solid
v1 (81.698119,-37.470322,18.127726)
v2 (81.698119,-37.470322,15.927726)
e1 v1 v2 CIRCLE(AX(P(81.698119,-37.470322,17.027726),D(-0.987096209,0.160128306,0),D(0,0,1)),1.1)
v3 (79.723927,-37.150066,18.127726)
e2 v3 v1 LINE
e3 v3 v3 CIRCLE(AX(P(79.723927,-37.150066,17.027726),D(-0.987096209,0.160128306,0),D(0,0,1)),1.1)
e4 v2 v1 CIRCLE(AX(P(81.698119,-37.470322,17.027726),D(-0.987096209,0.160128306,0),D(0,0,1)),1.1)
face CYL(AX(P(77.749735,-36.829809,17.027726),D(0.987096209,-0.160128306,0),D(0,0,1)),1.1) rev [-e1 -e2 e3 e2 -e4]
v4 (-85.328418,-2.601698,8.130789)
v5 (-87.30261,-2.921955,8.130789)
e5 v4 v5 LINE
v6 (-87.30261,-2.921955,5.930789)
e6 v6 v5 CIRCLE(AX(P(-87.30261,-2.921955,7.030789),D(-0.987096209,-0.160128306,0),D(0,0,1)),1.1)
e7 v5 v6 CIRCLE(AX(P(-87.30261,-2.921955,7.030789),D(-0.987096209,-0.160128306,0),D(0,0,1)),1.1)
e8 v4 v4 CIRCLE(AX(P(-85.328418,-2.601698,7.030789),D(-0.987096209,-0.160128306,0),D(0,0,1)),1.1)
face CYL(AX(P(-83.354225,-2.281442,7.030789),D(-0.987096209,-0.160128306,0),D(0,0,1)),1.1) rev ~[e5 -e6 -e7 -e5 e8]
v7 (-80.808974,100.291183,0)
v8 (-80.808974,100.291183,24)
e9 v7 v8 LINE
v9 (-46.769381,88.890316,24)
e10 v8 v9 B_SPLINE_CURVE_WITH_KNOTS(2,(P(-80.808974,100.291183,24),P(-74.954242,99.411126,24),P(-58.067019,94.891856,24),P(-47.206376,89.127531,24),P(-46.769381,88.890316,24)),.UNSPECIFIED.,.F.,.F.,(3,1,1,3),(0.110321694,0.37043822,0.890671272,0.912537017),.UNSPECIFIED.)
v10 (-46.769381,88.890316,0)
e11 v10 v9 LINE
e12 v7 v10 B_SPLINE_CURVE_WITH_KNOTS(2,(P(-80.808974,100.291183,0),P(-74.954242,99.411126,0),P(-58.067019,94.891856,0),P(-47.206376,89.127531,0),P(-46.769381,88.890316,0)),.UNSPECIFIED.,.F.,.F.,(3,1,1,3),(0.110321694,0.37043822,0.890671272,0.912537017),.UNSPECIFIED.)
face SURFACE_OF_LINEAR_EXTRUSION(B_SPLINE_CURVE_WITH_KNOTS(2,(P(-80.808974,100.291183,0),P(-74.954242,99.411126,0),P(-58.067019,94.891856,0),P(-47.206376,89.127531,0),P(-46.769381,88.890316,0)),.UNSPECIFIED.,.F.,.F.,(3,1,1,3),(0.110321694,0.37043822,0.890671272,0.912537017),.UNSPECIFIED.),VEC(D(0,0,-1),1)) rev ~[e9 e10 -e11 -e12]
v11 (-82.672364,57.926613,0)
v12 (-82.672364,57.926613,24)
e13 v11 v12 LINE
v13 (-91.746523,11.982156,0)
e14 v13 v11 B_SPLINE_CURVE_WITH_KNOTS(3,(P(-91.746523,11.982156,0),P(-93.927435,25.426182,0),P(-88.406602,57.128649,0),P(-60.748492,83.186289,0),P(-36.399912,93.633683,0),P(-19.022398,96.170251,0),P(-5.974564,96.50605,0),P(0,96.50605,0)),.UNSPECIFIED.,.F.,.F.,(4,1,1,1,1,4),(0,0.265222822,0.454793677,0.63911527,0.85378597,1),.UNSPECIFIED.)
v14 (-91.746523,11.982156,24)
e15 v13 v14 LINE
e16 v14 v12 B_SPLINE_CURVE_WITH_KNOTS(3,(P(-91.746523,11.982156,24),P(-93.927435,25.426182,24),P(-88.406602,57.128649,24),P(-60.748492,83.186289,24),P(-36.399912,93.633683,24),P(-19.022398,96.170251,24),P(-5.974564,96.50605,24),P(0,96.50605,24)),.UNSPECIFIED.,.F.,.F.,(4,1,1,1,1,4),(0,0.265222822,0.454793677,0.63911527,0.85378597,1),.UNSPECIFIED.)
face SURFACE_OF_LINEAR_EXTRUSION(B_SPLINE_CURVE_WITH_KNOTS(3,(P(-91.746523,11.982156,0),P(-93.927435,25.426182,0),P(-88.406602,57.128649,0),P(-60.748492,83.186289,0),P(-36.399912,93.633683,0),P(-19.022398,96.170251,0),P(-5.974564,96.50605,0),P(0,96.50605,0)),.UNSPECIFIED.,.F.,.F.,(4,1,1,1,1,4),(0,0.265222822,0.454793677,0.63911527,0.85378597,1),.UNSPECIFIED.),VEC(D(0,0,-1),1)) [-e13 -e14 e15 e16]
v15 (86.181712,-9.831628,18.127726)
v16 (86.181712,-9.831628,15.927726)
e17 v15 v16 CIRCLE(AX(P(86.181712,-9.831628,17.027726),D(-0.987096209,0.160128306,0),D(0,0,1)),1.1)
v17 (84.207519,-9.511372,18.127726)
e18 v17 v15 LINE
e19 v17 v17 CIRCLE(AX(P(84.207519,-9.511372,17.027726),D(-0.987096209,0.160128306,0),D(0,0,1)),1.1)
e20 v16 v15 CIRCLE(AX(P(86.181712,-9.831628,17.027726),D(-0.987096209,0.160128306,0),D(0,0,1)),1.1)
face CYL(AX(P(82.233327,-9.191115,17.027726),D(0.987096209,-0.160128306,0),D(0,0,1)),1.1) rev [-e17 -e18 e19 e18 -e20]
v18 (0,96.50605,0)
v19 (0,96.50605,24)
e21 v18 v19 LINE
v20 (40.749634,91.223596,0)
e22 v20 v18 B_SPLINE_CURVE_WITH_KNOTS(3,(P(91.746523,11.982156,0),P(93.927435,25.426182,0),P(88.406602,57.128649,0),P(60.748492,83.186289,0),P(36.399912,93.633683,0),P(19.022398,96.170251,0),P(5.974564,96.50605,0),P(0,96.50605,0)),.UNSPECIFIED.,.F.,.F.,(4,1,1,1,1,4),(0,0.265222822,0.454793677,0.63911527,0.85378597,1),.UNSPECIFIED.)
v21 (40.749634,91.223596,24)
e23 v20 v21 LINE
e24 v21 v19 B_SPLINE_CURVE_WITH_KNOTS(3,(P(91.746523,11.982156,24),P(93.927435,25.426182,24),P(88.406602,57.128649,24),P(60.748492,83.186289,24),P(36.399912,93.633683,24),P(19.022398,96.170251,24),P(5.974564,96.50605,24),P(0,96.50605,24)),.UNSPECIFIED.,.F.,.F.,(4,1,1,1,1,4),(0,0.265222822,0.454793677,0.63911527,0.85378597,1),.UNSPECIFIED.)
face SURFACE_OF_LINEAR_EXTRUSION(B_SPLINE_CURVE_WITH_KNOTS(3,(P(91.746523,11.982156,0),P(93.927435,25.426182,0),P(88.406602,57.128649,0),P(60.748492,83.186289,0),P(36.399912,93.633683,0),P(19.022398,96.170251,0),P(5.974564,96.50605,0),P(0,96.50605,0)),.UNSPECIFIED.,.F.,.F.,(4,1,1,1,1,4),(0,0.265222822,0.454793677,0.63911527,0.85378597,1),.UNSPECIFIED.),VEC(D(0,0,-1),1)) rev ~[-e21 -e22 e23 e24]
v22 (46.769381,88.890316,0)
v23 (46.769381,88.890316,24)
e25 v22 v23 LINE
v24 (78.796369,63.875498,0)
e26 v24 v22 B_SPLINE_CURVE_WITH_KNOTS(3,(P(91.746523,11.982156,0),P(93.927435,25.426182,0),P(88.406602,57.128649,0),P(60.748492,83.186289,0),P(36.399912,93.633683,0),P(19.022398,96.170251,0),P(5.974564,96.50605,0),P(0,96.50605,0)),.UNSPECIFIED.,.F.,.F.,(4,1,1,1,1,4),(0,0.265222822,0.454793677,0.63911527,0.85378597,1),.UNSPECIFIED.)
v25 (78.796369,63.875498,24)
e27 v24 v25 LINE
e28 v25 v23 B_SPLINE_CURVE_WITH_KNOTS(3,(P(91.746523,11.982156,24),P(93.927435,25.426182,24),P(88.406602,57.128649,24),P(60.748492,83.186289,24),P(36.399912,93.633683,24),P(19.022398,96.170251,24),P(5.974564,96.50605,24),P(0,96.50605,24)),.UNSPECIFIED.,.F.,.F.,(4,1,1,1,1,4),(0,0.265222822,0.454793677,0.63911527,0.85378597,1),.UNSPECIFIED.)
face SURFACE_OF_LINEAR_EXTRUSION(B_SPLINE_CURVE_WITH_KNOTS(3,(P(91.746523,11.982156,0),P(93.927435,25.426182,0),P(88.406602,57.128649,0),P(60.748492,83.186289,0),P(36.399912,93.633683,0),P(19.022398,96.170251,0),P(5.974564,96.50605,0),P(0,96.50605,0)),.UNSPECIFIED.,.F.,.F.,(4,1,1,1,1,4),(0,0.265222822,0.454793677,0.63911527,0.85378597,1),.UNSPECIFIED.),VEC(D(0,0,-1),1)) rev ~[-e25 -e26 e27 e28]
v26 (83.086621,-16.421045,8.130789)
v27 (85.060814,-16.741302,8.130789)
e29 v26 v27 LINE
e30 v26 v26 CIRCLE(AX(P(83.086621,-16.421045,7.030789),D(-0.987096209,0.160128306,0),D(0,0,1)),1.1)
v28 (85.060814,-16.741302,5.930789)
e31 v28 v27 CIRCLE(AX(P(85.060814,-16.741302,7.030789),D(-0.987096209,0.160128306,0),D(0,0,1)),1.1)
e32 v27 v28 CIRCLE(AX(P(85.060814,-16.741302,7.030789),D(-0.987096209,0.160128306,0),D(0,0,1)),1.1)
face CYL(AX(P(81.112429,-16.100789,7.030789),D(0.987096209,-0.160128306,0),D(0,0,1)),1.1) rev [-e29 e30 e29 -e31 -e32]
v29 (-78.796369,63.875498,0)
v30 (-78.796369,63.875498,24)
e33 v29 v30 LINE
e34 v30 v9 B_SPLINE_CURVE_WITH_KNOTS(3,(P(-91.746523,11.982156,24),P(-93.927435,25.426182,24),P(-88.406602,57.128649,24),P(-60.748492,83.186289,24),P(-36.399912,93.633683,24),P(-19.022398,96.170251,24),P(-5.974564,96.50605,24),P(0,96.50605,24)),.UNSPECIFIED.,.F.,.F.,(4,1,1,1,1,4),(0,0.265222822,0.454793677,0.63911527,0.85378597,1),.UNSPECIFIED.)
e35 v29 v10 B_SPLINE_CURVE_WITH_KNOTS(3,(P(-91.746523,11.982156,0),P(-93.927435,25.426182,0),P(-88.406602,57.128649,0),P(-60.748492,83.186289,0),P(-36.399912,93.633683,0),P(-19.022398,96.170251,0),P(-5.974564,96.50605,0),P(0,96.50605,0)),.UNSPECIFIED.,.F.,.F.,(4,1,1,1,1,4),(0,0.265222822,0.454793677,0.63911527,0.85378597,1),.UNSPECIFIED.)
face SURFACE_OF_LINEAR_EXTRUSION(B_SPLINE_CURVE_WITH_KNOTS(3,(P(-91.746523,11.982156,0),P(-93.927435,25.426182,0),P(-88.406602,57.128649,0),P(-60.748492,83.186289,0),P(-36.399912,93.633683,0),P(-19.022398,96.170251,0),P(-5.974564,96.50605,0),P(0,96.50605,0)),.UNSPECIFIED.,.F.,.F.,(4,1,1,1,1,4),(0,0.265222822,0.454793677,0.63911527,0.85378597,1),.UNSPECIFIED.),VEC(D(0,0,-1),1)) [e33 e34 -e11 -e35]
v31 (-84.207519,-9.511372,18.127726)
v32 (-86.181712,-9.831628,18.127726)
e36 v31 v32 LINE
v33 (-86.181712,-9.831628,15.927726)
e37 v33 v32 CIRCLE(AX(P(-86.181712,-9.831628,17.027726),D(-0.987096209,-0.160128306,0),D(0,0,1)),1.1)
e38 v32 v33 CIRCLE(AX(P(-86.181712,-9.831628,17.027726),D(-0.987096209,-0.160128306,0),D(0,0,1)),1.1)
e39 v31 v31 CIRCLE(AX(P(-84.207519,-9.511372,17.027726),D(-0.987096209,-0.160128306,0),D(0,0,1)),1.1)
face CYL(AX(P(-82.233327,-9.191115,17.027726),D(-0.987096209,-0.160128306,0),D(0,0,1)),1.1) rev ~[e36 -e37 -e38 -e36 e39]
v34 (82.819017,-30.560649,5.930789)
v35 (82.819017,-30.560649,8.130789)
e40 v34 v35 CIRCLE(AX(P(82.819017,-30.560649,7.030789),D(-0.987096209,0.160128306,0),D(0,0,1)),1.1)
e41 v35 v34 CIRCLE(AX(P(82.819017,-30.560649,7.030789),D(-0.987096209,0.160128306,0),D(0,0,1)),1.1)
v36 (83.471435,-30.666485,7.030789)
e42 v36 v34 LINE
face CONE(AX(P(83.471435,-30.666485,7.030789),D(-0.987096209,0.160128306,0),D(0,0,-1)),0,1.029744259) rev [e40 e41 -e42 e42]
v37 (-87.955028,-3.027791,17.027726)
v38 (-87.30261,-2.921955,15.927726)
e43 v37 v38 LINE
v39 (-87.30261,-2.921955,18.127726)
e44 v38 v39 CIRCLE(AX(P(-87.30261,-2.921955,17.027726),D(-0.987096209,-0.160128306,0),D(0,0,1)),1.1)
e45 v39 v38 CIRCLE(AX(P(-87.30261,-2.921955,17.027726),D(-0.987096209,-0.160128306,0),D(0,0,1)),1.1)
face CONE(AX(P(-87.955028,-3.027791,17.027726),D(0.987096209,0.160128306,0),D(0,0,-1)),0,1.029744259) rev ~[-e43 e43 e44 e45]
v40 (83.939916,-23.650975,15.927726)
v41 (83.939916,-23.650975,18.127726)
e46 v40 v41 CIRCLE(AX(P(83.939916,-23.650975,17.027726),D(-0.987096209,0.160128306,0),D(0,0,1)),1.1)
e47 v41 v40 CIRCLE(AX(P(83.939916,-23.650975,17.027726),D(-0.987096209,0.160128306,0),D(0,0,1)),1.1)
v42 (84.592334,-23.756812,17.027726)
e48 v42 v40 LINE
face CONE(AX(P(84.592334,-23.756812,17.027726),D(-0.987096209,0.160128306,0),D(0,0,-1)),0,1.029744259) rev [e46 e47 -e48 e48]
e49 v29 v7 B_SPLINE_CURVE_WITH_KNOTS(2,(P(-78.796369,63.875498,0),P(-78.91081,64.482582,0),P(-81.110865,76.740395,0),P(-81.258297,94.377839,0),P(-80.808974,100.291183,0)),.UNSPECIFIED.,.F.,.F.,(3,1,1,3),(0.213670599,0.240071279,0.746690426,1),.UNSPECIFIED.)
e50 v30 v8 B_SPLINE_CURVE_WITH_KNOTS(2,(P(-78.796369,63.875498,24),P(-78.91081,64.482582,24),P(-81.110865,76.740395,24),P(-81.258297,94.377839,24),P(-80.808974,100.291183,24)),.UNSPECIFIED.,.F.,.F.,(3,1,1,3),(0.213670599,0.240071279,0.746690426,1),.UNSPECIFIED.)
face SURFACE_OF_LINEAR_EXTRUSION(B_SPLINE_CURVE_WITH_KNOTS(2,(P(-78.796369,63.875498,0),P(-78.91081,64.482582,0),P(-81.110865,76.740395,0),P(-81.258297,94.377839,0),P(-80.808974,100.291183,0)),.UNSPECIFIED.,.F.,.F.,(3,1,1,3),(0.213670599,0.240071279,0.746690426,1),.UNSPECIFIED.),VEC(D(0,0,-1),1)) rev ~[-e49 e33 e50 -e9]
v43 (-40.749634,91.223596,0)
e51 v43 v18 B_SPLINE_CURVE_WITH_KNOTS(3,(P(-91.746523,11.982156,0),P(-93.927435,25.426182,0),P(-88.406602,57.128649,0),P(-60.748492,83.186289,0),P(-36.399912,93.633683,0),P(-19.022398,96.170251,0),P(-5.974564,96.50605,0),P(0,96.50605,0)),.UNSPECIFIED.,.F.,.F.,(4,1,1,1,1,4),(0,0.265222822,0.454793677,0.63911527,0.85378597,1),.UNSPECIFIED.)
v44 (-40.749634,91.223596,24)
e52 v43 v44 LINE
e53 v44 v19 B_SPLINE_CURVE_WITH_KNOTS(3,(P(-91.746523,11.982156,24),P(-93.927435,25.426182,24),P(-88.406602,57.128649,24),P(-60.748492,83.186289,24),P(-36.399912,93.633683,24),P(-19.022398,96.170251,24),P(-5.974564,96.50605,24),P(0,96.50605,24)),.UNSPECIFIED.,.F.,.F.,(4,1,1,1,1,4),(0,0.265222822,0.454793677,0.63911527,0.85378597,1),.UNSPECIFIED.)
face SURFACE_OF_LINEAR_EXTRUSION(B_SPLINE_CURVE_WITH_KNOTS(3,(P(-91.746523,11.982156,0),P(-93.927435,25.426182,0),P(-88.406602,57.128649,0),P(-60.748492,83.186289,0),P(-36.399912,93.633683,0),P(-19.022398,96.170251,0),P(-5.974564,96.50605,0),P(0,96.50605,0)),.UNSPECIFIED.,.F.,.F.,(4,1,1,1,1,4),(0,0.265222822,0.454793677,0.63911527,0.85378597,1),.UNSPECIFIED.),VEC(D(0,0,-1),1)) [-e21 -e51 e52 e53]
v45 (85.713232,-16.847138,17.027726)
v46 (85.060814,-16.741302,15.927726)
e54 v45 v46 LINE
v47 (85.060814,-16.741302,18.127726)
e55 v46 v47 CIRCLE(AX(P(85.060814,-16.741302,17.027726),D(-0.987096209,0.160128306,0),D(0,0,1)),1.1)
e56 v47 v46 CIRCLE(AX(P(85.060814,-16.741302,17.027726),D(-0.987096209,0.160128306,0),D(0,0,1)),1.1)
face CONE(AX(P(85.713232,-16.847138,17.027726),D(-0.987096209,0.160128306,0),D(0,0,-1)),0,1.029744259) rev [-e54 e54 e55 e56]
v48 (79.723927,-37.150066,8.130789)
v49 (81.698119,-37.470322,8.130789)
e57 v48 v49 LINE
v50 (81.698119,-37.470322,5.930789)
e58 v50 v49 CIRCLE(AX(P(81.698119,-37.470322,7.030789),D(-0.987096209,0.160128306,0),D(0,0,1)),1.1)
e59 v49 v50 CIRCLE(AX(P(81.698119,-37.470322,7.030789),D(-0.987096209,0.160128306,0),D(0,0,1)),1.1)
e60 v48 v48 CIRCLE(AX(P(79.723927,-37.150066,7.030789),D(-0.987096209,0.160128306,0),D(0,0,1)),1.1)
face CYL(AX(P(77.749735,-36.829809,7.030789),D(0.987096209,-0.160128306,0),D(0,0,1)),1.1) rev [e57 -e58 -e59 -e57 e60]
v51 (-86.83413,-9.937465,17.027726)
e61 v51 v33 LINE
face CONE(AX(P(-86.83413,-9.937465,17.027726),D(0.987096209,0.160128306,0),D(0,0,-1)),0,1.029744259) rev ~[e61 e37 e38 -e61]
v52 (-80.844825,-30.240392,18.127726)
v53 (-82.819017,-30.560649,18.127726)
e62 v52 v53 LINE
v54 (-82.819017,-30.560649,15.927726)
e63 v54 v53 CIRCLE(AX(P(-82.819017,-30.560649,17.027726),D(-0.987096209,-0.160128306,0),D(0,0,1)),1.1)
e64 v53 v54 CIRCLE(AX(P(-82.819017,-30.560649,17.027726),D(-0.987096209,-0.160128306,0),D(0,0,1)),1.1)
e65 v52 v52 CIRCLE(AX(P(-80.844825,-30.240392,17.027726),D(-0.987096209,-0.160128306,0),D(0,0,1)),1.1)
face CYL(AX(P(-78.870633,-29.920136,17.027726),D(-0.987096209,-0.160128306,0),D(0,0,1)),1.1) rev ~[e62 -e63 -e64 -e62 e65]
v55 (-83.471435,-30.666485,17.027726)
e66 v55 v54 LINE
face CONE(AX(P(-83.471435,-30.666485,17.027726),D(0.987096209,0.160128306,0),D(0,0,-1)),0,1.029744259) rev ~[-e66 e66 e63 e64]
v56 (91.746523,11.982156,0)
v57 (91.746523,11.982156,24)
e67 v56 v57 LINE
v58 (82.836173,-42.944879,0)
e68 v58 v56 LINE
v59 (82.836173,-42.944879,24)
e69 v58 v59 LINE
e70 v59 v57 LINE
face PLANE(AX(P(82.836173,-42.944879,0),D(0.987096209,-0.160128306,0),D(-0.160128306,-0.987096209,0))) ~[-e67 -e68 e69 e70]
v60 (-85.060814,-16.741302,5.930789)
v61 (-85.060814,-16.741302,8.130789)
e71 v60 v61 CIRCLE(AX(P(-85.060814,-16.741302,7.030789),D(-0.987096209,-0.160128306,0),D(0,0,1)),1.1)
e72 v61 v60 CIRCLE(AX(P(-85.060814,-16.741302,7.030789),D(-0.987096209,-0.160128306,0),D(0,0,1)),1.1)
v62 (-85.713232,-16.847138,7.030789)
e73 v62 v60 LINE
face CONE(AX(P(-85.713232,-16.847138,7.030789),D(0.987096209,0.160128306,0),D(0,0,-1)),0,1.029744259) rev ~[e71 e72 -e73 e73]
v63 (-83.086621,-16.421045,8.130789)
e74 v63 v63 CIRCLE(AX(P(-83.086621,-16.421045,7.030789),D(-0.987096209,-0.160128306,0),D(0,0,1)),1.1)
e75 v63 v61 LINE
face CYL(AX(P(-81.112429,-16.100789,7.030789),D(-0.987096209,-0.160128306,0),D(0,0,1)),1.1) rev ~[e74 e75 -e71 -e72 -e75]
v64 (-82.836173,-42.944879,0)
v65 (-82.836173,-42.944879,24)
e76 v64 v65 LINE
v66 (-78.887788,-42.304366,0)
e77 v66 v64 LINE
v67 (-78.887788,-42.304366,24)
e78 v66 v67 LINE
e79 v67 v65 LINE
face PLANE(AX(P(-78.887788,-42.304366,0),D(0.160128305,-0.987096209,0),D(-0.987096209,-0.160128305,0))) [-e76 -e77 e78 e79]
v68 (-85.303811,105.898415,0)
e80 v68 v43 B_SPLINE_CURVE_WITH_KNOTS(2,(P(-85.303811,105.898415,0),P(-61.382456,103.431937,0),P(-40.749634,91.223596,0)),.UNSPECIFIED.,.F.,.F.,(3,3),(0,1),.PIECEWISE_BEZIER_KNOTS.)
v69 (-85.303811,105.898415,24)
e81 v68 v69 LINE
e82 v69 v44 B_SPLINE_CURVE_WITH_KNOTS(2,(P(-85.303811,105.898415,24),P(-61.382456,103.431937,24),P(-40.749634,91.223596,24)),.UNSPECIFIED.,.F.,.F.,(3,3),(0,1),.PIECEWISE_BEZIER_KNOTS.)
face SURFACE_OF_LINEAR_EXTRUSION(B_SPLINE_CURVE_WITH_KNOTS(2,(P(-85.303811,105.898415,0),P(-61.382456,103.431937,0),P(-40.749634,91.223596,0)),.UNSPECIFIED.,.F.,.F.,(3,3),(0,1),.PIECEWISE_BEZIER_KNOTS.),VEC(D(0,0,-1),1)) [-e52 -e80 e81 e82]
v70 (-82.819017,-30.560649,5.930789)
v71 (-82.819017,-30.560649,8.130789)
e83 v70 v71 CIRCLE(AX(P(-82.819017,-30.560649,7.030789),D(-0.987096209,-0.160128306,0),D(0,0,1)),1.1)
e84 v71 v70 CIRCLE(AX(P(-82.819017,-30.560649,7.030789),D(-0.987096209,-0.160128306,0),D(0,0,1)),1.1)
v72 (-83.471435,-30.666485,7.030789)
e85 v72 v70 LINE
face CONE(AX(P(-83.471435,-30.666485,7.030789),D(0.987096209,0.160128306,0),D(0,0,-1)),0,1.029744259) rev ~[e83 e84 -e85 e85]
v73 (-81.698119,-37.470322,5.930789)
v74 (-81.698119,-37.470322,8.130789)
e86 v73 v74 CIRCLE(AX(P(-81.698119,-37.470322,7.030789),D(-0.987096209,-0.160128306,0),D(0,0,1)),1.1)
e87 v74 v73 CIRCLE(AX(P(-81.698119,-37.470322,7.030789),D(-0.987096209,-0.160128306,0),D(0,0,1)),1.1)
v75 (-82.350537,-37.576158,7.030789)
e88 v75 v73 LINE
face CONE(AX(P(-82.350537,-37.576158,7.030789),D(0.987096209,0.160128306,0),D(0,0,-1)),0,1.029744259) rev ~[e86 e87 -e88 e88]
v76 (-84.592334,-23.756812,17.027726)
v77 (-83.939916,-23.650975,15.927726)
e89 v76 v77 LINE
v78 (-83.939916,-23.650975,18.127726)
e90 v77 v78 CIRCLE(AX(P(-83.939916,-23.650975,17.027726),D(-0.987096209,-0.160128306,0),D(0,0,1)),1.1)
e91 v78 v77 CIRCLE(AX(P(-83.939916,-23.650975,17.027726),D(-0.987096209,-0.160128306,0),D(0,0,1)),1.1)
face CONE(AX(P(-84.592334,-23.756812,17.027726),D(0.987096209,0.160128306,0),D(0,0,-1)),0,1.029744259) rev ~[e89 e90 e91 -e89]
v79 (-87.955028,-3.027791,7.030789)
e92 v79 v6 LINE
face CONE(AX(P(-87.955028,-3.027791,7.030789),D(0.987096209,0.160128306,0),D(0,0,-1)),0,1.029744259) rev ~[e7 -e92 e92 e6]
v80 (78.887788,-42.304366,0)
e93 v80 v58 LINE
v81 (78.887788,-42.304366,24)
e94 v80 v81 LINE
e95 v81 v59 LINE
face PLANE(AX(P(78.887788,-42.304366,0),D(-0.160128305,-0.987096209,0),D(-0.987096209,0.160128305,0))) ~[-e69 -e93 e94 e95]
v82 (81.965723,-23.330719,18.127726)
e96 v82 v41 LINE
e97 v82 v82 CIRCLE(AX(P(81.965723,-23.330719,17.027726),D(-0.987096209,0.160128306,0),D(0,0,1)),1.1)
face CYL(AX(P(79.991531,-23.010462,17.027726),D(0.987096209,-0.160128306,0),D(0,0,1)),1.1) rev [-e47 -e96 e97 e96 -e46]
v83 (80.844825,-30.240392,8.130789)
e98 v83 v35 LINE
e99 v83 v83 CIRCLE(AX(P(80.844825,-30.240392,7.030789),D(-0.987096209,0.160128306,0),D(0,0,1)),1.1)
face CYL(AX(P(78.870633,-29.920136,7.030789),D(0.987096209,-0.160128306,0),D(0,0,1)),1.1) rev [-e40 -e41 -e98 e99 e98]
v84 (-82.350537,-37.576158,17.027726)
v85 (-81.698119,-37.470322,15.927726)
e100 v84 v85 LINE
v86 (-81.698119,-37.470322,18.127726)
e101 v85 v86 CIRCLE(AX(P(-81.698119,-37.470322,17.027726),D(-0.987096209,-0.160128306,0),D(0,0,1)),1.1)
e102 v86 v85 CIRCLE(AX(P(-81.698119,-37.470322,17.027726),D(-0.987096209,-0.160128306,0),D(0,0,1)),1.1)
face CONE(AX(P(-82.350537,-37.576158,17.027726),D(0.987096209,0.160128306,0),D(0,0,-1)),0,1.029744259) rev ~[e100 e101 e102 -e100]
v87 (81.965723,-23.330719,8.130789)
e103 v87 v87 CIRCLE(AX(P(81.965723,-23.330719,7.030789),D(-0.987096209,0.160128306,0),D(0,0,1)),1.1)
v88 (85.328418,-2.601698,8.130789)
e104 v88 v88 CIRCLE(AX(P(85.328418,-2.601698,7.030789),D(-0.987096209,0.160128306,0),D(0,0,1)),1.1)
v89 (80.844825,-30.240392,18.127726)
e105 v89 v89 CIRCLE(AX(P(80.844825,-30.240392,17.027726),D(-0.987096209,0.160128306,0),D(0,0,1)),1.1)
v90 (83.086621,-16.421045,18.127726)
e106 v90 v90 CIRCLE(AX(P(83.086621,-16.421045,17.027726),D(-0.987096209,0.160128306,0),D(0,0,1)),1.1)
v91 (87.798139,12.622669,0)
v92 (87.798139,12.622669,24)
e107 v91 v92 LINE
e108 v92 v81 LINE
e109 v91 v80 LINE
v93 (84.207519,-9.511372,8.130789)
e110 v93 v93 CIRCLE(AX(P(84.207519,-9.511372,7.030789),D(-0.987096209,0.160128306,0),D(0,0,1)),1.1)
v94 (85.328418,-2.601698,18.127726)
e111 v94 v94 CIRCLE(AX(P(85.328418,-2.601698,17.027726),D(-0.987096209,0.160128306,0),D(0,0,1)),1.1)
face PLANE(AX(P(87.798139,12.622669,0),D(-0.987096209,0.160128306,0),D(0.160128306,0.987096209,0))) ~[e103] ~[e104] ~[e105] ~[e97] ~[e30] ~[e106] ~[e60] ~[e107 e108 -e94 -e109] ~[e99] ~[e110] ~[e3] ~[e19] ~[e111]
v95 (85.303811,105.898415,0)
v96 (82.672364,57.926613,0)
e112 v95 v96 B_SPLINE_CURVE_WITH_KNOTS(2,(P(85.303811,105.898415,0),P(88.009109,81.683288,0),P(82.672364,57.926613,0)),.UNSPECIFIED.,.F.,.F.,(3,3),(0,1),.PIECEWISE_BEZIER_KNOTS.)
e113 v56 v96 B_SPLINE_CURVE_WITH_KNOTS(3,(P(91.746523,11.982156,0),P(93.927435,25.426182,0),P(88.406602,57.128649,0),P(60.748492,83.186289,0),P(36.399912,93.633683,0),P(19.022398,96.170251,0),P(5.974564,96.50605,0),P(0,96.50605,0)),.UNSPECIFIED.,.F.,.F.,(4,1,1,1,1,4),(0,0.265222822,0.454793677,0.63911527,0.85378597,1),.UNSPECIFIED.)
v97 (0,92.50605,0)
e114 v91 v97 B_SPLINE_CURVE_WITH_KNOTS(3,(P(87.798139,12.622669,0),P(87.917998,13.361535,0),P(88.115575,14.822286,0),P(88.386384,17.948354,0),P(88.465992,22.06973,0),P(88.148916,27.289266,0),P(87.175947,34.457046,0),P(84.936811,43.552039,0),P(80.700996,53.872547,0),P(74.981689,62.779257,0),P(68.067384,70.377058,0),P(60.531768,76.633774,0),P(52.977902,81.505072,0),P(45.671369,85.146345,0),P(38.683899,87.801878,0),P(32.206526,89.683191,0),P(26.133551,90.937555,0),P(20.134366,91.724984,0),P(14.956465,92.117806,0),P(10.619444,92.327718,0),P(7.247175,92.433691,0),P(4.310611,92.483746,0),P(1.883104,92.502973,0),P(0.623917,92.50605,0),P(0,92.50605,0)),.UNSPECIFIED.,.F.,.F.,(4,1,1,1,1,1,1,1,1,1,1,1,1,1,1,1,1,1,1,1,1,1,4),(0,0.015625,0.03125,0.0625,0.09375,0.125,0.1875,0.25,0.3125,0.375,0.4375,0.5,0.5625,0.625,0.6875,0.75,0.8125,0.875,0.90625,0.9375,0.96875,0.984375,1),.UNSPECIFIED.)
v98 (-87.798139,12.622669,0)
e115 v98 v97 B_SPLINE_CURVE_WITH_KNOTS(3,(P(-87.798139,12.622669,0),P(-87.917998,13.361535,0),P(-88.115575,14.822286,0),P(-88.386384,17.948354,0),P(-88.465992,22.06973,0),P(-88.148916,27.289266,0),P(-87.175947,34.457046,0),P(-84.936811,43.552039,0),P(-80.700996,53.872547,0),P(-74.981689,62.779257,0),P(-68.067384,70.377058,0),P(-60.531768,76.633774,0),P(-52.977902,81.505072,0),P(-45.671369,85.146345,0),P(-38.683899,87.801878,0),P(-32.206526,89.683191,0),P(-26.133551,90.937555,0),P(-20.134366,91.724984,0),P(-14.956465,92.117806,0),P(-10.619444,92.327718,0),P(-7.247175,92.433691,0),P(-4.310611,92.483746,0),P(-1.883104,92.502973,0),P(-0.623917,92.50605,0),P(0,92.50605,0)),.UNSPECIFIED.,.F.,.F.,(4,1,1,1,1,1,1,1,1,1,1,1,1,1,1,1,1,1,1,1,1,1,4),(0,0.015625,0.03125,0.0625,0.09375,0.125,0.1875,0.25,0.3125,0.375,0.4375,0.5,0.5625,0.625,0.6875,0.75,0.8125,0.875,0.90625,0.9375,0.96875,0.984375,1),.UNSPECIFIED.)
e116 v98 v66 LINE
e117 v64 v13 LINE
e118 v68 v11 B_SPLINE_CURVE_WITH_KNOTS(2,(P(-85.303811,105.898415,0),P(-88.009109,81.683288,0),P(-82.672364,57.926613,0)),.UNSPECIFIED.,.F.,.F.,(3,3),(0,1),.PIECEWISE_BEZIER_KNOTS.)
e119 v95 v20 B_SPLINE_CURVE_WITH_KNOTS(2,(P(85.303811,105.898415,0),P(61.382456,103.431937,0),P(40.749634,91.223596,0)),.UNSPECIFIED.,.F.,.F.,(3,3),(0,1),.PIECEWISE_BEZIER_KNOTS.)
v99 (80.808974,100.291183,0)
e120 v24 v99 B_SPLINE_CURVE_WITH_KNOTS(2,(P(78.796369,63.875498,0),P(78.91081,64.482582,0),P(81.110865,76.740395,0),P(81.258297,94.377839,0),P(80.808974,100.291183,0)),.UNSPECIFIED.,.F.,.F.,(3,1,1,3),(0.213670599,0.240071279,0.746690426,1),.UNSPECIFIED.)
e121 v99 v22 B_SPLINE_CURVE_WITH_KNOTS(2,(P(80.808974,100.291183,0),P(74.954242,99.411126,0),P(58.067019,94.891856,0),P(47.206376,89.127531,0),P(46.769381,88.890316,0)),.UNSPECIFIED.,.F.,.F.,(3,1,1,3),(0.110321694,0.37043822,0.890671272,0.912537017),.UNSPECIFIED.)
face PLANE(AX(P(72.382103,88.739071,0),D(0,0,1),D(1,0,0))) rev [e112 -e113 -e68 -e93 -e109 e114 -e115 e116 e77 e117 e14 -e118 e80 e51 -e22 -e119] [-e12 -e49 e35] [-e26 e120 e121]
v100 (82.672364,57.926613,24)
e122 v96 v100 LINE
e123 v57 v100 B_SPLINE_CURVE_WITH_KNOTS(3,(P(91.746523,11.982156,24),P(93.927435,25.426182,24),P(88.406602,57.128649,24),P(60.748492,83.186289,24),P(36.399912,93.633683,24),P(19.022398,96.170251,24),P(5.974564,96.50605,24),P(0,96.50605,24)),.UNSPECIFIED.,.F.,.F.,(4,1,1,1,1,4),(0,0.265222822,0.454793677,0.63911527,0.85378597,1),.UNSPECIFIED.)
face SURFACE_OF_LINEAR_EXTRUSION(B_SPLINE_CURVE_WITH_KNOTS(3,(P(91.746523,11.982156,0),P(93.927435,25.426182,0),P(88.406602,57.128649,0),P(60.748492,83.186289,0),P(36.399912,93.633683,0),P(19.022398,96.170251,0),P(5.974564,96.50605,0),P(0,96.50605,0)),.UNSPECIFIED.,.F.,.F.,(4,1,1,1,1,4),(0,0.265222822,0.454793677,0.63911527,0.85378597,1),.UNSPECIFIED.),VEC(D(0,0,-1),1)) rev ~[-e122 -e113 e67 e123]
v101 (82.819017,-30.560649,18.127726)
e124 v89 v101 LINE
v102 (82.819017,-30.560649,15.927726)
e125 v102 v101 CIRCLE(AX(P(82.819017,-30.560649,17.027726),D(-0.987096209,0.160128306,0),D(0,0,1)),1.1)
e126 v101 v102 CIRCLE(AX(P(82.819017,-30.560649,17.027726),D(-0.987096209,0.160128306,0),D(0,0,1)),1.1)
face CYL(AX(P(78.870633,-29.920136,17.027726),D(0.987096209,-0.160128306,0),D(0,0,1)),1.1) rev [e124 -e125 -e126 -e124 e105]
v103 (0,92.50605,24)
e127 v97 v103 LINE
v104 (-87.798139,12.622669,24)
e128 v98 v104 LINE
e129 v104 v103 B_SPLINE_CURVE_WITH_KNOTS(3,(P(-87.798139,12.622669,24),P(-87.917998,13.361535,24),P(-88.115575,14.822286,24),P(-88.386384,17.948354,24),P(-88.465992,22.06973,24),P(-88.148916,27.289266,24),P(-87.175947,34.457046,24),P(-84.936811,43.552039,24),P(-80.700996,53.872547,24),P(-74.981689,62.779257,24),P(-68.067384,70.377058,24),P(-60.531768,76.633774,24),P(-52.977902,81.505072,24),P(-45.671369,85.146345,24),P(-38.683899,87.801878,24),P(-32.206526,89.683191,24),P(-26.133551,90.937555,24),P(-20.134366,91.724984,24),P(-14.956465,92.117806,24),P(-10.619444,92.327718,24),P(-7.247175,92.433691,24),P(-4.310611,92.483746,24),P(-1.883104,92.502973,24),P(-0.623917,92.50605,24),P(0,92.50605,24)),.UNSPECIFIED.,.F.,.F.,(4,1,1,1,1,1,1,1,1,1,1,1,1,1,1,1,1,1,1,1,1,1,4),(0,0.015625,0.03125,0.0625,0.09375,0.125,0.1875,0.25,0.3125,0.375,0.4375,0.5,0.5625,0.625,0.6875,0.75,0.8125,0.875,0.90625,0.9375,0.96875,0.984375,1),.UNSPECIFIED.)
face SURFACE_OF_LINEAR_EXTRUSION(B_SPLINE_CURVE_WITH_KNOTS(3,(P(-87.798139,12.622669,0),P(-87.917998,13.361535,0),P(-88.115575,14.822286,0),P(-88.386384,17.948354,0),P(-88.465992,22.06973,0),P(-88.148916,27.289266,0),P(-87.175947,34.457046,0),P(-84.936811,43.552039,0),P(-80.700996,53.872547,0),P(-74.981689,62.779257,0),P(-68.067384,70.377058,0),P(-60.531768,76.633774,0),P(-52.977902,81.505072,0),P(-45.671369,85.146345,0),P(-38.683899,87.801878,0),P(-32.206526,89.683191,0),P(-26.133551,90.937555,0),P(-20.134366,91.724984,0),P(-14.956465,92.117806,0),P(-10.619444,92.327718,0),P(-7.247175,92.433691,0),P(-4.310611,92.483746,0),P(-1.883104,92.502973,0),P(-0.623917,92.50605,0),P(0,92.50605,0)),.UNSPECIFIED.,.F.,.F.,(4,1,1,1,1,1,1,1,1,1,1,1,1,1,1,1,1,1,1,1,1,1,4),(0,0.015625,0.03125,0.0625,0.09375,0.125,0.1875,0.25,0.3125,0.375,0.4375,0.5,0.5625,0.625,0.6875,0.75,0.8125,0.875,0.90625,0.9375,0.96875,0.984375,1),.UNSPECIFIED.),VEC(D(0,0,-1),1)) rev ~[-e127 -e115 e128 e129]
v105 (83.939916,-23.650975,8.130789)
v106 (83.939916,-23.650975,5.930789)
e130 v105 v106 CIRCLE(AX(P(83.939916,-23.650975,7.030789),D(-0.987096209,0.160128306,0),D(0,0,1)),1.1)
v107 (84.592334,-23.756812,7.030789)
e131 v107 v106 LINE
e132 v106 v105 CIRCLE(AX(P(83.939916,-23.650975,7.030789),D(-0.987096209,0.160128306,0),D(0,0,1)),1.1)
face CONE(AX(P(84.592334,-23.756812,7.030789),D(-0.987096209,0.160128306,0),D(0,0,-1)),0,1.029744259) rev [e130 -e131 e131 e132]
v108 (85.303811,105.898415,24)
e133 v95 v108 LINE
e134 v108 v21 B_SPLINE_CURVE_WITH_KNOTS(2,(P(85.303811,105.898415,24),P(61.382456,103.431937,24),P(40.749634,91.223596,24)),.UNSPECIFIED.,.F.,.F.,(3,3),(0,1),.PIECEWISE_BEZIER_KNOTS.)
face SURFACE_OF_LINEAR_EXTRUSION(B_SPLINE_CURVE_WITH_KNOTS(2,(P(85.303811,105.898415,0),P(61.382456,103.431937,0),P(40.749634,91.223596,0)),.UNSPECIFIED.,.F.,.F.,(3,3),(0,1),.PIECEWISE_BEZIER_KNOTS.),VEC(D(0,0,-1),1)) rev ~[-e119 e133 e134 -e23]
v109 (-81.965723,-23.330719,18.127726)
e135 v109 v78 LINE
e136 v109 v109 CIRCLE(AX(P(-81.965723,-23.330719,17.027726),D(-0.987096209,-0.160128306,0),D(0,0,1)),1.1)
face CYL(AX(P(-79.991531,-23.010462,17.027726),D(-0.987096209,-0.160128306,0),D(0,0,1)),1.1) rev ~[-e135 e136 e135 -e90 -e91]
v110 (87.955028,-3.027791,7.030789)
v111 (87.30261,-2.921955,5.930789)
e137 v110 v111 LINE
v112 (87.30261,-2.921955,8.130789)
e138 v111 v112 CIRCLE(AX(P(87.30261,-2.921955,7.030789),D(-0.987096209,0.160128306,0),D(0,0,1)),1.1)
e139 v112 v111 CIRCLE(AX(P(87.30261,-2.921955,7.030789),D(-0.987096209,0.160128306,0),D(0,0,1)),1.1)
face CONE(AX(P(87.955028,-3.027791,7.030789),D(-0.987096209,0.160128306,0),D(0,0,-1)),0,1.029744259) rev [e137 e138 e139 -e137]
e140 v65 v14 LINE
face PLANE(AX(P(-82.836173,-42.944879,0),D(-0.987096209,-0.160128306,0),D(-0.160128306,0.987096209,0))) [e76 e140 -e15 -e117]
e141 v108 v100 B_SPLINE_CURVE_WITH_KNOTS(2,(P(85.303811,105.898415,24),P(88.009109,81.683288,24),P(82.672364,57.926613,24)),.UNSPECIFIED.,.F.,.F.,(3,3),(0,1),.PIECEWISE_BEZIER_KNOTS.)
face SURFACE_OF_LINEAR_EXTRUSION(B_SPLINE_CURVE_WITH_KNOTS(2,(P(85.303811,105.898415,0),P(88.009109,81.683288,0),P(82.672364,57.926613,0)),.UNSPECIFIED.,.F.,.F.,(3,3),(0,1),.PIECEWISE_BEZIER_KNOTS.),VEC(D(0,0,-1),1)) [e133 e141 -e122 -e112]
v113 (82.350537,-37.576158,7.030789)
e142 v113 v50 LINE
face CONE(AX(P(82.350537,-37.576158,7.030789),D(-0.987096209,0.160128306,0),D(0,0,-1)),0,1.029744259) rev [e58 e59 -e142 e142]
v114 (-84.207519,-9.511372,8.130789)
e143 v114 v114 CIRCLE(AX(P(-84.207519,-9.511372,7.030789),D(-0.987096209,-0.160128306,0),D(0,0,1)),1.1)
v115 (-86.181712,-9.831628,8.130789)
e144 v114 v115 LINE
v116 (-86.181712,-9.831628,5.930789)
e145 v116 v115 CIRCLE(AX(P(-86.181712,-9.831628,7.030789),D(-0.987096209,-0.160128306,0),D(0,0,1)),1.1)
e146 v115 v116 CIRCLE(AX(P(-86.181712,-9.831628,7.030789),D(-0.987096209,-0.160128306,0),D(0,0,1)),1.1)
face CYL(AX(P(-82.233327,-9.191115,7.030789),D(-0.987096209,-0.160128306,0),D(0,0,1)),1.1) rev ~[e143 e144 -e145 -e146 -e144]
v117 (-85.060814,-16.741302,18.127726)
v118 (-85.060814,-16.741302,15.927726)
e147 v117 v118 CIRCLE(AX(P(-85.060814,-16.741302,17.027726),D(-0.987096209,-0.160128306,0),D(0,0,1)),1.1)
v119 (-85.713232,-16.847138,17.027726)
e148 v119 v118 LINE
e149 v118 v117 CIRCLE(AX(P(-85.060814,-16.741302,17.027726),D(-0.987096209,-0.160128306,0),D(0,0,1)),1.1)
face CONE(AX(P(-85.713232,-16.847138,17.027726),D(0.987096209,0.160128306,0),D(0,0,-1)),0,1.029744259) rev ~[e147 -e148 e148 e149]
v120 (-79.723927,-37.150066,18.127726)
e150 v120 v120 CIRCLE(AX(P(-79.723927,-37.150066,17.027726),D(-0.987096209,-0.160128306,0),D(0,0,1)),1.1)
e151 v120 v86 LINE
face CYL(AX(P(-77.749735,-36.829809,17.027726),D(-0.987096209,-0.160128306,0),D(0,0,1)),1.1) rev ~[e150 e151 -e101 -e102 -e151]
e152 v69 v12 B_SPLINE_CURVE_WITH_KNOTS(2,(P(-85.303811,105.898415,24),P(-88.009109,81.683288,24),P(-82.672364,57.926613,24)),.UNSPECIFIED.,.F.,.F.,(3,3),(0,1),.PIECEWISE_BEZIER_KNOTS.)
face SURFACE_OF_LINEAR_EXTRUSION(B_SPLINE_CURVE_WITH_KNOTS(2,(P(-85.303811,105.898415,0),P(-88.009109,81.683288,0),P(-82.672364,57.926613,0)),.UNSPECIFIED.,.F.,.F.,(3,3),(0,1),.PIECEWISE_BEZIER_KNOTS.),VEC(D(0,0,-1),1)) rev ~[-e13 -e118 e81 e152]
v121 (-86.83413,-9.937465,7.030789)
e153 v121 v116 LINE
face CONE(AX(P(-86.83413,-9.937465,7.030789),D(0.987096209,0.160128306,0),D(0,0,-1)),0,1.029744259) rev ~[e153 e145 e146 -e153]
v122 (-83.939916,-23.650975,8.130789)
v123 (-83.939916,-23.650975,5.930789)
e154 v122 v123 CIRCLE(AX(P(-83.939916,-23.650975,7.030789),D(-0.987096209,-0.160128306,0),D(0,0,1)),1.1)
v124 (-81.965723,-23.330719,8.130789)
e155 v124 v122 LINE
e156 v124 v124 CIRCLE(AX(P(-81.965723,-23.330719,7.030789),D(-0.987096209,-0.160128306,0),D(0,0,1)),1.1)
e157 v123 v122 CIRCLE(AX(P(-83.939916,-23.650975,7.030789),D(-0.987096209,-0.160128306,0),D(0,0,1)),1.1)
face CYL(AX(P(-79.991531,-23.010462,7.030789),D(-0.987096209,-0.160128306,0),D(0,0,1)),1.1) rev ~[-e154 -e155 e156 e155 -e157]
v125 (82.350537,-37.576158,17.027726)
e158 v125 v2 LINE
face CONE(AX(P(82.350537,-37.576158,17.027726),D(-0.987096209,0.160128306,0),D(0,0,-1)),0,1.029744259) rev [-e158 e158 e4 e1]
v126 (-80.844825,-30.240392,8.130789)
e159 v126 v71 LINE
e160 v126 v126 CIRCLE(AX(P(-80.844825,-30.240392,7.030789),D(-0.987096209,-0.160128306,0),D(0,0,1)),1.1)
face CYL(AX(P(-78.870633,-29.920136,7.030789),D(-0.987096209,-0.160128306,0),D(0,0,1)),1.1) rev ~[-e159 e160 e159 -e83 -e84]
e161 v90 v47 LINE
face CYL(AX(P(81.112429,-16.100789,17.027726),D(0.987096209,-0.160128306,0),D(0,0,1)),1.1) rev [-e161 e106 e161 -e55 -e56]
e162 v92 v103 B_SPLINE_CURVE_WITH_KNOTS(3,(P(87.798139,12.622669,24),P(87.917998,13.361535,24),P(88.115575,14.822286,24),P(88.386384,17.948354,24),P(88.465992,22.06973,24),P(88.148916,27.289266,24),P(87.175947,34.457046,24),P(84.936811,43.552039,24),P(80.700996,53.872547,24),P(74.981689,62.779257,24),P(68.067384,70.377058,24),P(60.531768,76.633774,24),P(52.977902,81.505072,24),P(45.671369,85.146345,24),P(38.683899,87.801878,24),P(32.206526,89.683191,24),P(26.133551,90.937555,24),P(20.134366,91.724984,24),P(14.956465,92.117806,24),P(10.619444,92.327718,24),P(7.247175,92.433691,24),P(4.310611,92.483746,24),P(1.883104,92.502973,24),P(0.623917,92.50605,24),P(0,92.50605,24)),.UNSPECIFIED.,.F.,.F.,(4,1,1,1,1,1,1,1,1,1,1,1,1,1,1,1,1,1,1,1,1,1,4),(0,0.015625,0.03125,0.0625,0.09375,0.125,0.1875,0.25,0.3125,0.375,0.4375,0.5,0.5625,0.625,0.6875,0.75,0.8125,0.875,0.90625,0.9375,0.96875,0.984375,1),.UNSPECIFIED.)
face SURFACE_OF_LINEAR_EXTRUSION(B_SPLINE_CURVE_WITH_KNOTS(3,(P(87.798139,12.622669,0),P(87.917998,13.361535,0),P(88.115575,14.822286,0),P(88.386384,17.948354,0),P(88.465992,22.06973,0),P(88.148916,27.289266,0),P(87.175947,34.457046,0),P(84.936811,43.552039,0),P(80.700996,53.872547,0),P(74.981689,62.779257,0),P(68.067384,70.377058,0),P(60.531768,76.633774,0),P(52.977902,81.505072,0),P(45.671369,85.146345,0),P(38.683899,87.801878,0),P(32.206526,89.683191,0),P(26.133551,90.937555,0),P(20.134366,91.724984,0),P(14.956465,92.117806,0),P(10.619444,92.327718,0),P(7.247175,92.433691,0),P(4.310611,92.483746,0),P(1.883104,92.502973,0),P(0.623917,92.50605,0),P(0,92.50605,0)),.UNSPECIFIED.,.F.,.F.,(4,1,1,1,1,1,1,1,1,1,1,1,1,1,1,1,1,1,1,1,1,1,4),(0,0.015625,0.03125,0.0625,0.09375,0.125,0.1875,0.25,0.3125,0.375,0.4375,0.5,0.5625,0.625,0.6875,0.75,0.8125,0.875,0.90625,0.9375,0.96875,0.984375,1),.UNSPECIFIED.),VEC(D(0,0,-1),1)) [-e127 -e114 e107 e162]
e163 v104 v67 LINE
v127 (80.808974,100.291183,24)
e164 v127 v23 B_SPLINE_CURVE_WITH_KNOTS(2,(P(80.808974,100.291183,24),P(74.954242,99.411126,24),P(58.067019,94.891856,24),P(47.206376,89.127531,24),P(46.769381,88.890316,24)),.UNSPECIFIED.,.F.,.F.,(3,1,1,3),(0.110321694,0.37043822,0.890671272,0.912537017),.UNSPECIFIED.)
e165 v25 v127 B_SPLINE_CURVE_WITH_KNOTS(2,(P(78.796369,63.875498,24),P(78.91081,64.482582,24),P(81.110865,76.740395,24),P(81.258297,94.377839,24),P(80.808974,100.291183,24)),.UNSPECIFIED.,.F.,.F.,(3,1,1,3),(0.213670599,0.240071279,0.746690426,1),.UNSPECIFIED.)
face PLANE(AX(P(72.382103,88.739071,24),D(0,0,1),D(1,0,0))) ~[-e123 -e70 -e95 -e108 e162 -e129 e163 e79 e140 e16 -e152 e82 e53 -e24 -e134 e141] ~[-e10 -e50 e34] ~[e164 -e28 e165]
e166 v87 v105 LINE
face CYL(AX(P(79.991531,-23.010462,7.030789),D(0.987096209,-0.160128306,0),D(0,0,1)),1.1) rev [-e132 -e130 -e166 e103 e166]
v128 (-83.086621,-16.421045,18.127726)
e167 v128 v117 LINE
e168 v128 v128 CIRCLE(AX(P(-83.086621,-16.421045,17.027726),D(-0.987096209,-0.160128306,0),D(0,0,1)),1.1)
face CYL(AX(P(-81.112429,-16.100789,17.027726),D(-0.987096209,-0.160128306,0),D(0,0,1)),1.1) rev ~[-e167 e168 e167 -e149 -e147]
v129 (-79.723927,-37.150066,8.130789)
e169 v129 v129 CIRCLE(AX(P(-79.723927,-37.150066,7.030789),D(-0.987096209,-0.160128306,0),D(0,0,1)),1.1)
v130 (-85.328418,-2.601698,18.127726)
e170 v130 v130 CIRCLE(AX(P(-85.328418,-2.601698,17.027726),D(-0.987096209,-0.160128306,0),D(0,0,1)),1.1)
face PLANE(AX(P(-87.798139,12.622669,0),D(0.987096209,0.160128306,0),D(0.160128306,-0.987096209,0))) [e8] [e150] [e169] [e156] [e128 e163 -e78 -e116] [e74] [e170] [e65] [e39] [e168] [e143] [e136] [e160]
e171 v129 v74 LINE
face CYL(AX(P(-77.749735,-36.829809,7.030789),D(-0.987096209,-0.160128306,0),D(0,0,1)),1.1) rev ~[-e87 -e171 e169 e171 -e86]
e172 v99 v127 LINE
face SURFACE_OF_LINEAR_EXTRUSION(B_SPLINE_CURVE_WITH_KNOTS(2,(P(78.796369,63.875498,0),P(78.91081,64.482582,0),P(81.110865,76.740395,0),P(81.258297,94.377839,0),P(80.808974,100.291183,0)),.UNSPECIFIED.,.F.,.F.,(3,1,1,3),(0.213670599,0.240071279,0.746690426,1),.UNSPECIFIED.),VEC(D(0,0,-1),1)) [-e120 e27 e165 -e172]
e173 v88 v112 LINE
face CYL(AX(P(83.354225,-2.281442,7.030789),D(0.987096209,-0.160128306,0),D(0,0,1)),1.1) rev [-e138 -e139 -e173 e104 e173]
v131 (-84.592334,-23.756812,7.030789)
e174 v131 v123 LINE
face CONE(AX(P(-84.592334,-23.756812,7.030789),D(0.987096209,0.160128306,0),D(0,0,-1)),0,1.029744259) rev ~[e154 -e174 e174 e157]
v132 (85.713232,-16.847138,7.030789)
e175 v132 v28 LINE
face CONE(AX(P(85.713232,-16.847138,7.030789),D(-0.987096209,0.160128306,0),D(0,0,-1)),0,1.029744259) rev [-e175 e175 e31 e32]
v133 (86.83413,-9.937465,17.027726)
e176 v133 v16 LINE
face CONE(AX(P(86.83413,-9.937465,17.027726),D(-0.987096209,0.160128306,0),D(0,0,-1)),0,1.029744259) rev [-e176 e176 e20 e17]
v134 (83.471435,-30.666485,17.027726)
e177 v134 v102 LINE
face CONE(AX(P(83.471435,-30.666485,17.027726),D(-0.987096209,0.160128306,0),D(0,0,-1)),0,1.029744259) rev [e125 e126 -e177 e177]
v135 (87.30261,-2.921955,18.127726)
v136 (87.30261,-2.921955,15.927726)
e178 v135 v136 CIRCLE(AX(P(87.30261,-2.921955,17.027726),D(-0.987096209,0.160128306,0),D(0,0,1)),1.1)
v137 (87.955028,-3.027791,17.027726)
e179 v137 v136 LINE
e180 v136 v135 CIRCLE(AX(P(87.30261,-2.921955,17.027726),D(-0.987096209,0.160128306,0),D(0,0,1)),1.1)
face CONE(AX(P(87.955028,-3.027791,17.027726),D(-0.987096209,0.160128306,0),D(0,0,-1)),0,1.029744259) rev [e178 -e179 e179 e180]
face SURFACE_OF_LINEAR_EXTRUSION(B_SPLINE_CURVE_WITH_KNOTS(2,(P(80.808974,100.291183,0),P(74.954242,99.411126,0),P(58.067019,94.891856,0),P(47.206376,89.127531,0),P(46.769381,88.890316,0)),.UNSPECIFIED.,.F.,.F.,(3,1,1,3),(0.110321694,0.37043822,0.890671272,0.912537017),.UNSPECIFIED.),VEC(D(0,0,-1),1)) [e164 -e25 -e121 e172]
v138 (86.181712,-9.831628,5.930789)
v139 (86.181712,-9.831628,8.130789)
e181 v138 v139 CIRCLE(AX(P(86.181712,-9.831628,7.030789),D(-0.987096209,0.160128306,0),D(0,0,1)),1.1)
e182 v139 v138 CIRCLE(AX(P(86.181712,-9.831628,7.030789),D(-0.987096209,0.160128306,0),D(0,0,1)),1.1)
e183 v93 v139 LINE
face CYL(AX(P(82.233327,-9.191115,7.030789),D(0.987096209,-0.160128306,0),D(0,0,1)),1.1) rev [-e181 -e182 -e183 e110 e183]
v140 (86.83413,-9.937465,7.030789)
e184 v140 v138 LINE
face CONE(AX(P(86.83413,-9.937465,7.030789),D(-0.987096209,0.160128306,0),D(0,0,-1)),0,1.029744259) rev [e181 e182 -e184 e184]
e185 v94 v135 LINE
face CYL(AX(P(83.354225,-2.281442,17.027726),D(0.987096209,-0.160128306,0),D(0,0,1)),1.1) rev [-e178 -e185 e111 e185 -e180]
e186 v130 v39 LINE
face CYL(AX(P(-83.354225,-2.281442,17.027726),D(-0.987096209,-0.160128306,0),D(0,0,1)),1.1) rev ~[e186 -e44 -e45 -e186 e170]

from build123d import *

# Parameters (mm, degrees)
EXTRUDE_1_DEPTH = 24
F_2_0MM_1_D     = 2.2
F_2_0MM_1_DEPTH = 2
F_2_0MM_1_TIP   = 0.660946681


with BuildPart() as part:
    # 草图1 → 凸台-拉伸1 (new body)
    with BuildSketch(Plane.XY):
        with BuildLine():
            add(Edge.make_bspline(
                [(-85.303811148, 105.898414939), (-88.009109302, 81.683287632), (-82.672363695, 57.926613297)],
                knots=[0, 0, 0, 1, 1, 1], degree=2))
            add(Edge.make_bspline(
                [(-82.672363695, 57.926613297), (-81.478722874, 60.008111355), (-80.178814673, 61.9908522), (-78.796368827, 63.875498361)],
                knots=[0.265222822, 0.265222822, 0.265222822, 0.265222822, 0.304620703, 0.304620703, 0.304620703, 0.304620703], degree=3))
            add(Edge.make_bspline(
                [(-78.796368831, 63.875498364), (-78.910809837, 64.482582045), (-81.110864738, 76.740394775), (-81.25829733, 94.377839227), (-80.80897441, 100.291183249)],
                knots=[0.213670599, 0.213670599, 0.213670599, 0.240071279, 0.746690426, 1, 1, 1], degree=2))
            add(Edge.make_bspline(
                [(-80.80897441, 100.291183249), (-74.954242367, 99.411126281), (-58.067018564, 94.891856442), (-47.206375635, 89.127530631), (-46.769380644, 88.890315757)],
                knots=[0.110321694, 0.110321694, 0.110321694, 0.37043822, 0.890671272, 0.912537017, 0.912537017, 0.912537017], degree=2))
            add(Edge.make_bspline(
                [(-46.769380641, 88.890315749), (-44.71433423, 89.777898648), (-42.703123712, 90.548546165), (-40.749633794, 91.223596451)],
                knots=[0.567242148, 0.567242148, 0.567242148, 0.567242148, 0.618773343, 0.618773343, 0.618773343, 0.618773343], degree=3))
            add(Edge.make_bspline(
                [(-85.303811148, 105.898414939), (-61.38245558, 103.431937236), (-40.749633794, 91.223596451)],
                knots=[0, 0, 0, 1, 1, 1], degree=2))
        make_face()
        with BuildLine():
            Line((-87.798138535, 12.622668998), (-78.887788168, -42.304366094))
            Line((-78.887788168, -42.304366094), (-82.836173004, -42.944879316))
            Line((-82.836173004, -42.944879316), (-91.746523371, 11.982155776))
            add(Edge.make_bspline(
                [(-91.746523371, 11.982155776), (-93.927434534, 25.426181997), (-88.406602225, 57.128648527), (-60.748492356, 83.186289469), (-36.399912338, 93.633682679), (-19.022398101, 96.170250702), (-5.974564228, 96.506050334), (0, 96.506050334)],
                knots=[0, 0, 0, 0, 0.265222822, 0.454793677, 0.63911527, 0.85378597, 1, 1, 1, 1], degree=3))
            Line((0, 96.506050334), (0, 92.506050334))
            add(Edge.make_bspline(
                [(-87.798138535, 12.622668998), (-87.917998492, 13.361534674), (-88.115574705, 14.82228619), (-88.386383604, 17.948353716), (-88.465992349, 22.069730122), (-88.148916082, 27.289265538), (-87.175946563, 34.457045729), (-84.936811189, 43.552038848), (-80.70099625, 53.872547274), (-74.981688561, 62.779256808), (-68.067383531, 70.377057927), (-60.531768082, 76.633774135), (-52.977902003, 81.505072411), (-45.671368613, 85.146344571), (-38.683899128, 87.801878194), (-32.206525702, 89.683190694), (-26.133550852, 90.937554568), (-20.134365858, 91.724983846), (-14.956465354, 92.117805958), (-10.619444347, 92.327717748), (-7.247175397, 92.433691174), (-4.31061117, 92.483746465), (-1.883104331, 92.50297345), (-0.623917284, 92.506050334), (0, 92.506050334)],
                knots=[0, 0, 0, 0, 0.015625, 0.03125, 0.0625, 0.09375, 0.125, 0.1875, 0.25, 0.3125, 0.375, 0.4375, 0.5, 0.5625, 0.625, 0.6875, 0.75, 0.8125, 0.875, 0.90625, 0.9375, 0.96875, 0.984375, 1, 1, 1, 1], degree=3))
        make_face()
    extrude(amount=EXTRUDE_1_DEPTH)

    # Ø2.0mm 暗销孔1
    with Locations(Plane(origin=(-83.551735086, -13.553894401, 0), x_dir=(0, 0, -1), z_dir=(0.9870962089406052, 0.16012830572726736, 0))):
        with Locations((-7.030788703, 4.095368433), (-7.030788703, 11.095368433), (-17.027725635, 11.095368433), (-17.027725635, 4.095368433), (-17.027725635, -2.904631567), (-17.027725635, -9.904631567), (-17.027725635, -16.904631567), (-17.027725635, -23.904631567), (-7.030788703, -23.904631567), (-7.030788703, -16.904631567), (-7.030788703, -9.904631567), (-7.030788703, -2.904631567)):
            Hole(F_2_0MM_1_D / 2, depth=F_2_0MM_1_DEPTH)
            with Locations((0, 0, -(F_2_0MM_1_DEPTH + F_2_0MM_1_TIP / 2))):  # 118° drill point
                Cone(0, F_2_0MM_1_D / 2, F_2_0MM_1_TIP, mode=Mode.SUBTRACT)

    # 镜向1: part across plane


with BuildPart() as part_1:
    add(part.part)
    add(part.part.mirror(Plane(origin=(0, 0, 24), x_dir=(0, 0, 1), z_dir=(1, 0, 0))))


solid = part_1.part
